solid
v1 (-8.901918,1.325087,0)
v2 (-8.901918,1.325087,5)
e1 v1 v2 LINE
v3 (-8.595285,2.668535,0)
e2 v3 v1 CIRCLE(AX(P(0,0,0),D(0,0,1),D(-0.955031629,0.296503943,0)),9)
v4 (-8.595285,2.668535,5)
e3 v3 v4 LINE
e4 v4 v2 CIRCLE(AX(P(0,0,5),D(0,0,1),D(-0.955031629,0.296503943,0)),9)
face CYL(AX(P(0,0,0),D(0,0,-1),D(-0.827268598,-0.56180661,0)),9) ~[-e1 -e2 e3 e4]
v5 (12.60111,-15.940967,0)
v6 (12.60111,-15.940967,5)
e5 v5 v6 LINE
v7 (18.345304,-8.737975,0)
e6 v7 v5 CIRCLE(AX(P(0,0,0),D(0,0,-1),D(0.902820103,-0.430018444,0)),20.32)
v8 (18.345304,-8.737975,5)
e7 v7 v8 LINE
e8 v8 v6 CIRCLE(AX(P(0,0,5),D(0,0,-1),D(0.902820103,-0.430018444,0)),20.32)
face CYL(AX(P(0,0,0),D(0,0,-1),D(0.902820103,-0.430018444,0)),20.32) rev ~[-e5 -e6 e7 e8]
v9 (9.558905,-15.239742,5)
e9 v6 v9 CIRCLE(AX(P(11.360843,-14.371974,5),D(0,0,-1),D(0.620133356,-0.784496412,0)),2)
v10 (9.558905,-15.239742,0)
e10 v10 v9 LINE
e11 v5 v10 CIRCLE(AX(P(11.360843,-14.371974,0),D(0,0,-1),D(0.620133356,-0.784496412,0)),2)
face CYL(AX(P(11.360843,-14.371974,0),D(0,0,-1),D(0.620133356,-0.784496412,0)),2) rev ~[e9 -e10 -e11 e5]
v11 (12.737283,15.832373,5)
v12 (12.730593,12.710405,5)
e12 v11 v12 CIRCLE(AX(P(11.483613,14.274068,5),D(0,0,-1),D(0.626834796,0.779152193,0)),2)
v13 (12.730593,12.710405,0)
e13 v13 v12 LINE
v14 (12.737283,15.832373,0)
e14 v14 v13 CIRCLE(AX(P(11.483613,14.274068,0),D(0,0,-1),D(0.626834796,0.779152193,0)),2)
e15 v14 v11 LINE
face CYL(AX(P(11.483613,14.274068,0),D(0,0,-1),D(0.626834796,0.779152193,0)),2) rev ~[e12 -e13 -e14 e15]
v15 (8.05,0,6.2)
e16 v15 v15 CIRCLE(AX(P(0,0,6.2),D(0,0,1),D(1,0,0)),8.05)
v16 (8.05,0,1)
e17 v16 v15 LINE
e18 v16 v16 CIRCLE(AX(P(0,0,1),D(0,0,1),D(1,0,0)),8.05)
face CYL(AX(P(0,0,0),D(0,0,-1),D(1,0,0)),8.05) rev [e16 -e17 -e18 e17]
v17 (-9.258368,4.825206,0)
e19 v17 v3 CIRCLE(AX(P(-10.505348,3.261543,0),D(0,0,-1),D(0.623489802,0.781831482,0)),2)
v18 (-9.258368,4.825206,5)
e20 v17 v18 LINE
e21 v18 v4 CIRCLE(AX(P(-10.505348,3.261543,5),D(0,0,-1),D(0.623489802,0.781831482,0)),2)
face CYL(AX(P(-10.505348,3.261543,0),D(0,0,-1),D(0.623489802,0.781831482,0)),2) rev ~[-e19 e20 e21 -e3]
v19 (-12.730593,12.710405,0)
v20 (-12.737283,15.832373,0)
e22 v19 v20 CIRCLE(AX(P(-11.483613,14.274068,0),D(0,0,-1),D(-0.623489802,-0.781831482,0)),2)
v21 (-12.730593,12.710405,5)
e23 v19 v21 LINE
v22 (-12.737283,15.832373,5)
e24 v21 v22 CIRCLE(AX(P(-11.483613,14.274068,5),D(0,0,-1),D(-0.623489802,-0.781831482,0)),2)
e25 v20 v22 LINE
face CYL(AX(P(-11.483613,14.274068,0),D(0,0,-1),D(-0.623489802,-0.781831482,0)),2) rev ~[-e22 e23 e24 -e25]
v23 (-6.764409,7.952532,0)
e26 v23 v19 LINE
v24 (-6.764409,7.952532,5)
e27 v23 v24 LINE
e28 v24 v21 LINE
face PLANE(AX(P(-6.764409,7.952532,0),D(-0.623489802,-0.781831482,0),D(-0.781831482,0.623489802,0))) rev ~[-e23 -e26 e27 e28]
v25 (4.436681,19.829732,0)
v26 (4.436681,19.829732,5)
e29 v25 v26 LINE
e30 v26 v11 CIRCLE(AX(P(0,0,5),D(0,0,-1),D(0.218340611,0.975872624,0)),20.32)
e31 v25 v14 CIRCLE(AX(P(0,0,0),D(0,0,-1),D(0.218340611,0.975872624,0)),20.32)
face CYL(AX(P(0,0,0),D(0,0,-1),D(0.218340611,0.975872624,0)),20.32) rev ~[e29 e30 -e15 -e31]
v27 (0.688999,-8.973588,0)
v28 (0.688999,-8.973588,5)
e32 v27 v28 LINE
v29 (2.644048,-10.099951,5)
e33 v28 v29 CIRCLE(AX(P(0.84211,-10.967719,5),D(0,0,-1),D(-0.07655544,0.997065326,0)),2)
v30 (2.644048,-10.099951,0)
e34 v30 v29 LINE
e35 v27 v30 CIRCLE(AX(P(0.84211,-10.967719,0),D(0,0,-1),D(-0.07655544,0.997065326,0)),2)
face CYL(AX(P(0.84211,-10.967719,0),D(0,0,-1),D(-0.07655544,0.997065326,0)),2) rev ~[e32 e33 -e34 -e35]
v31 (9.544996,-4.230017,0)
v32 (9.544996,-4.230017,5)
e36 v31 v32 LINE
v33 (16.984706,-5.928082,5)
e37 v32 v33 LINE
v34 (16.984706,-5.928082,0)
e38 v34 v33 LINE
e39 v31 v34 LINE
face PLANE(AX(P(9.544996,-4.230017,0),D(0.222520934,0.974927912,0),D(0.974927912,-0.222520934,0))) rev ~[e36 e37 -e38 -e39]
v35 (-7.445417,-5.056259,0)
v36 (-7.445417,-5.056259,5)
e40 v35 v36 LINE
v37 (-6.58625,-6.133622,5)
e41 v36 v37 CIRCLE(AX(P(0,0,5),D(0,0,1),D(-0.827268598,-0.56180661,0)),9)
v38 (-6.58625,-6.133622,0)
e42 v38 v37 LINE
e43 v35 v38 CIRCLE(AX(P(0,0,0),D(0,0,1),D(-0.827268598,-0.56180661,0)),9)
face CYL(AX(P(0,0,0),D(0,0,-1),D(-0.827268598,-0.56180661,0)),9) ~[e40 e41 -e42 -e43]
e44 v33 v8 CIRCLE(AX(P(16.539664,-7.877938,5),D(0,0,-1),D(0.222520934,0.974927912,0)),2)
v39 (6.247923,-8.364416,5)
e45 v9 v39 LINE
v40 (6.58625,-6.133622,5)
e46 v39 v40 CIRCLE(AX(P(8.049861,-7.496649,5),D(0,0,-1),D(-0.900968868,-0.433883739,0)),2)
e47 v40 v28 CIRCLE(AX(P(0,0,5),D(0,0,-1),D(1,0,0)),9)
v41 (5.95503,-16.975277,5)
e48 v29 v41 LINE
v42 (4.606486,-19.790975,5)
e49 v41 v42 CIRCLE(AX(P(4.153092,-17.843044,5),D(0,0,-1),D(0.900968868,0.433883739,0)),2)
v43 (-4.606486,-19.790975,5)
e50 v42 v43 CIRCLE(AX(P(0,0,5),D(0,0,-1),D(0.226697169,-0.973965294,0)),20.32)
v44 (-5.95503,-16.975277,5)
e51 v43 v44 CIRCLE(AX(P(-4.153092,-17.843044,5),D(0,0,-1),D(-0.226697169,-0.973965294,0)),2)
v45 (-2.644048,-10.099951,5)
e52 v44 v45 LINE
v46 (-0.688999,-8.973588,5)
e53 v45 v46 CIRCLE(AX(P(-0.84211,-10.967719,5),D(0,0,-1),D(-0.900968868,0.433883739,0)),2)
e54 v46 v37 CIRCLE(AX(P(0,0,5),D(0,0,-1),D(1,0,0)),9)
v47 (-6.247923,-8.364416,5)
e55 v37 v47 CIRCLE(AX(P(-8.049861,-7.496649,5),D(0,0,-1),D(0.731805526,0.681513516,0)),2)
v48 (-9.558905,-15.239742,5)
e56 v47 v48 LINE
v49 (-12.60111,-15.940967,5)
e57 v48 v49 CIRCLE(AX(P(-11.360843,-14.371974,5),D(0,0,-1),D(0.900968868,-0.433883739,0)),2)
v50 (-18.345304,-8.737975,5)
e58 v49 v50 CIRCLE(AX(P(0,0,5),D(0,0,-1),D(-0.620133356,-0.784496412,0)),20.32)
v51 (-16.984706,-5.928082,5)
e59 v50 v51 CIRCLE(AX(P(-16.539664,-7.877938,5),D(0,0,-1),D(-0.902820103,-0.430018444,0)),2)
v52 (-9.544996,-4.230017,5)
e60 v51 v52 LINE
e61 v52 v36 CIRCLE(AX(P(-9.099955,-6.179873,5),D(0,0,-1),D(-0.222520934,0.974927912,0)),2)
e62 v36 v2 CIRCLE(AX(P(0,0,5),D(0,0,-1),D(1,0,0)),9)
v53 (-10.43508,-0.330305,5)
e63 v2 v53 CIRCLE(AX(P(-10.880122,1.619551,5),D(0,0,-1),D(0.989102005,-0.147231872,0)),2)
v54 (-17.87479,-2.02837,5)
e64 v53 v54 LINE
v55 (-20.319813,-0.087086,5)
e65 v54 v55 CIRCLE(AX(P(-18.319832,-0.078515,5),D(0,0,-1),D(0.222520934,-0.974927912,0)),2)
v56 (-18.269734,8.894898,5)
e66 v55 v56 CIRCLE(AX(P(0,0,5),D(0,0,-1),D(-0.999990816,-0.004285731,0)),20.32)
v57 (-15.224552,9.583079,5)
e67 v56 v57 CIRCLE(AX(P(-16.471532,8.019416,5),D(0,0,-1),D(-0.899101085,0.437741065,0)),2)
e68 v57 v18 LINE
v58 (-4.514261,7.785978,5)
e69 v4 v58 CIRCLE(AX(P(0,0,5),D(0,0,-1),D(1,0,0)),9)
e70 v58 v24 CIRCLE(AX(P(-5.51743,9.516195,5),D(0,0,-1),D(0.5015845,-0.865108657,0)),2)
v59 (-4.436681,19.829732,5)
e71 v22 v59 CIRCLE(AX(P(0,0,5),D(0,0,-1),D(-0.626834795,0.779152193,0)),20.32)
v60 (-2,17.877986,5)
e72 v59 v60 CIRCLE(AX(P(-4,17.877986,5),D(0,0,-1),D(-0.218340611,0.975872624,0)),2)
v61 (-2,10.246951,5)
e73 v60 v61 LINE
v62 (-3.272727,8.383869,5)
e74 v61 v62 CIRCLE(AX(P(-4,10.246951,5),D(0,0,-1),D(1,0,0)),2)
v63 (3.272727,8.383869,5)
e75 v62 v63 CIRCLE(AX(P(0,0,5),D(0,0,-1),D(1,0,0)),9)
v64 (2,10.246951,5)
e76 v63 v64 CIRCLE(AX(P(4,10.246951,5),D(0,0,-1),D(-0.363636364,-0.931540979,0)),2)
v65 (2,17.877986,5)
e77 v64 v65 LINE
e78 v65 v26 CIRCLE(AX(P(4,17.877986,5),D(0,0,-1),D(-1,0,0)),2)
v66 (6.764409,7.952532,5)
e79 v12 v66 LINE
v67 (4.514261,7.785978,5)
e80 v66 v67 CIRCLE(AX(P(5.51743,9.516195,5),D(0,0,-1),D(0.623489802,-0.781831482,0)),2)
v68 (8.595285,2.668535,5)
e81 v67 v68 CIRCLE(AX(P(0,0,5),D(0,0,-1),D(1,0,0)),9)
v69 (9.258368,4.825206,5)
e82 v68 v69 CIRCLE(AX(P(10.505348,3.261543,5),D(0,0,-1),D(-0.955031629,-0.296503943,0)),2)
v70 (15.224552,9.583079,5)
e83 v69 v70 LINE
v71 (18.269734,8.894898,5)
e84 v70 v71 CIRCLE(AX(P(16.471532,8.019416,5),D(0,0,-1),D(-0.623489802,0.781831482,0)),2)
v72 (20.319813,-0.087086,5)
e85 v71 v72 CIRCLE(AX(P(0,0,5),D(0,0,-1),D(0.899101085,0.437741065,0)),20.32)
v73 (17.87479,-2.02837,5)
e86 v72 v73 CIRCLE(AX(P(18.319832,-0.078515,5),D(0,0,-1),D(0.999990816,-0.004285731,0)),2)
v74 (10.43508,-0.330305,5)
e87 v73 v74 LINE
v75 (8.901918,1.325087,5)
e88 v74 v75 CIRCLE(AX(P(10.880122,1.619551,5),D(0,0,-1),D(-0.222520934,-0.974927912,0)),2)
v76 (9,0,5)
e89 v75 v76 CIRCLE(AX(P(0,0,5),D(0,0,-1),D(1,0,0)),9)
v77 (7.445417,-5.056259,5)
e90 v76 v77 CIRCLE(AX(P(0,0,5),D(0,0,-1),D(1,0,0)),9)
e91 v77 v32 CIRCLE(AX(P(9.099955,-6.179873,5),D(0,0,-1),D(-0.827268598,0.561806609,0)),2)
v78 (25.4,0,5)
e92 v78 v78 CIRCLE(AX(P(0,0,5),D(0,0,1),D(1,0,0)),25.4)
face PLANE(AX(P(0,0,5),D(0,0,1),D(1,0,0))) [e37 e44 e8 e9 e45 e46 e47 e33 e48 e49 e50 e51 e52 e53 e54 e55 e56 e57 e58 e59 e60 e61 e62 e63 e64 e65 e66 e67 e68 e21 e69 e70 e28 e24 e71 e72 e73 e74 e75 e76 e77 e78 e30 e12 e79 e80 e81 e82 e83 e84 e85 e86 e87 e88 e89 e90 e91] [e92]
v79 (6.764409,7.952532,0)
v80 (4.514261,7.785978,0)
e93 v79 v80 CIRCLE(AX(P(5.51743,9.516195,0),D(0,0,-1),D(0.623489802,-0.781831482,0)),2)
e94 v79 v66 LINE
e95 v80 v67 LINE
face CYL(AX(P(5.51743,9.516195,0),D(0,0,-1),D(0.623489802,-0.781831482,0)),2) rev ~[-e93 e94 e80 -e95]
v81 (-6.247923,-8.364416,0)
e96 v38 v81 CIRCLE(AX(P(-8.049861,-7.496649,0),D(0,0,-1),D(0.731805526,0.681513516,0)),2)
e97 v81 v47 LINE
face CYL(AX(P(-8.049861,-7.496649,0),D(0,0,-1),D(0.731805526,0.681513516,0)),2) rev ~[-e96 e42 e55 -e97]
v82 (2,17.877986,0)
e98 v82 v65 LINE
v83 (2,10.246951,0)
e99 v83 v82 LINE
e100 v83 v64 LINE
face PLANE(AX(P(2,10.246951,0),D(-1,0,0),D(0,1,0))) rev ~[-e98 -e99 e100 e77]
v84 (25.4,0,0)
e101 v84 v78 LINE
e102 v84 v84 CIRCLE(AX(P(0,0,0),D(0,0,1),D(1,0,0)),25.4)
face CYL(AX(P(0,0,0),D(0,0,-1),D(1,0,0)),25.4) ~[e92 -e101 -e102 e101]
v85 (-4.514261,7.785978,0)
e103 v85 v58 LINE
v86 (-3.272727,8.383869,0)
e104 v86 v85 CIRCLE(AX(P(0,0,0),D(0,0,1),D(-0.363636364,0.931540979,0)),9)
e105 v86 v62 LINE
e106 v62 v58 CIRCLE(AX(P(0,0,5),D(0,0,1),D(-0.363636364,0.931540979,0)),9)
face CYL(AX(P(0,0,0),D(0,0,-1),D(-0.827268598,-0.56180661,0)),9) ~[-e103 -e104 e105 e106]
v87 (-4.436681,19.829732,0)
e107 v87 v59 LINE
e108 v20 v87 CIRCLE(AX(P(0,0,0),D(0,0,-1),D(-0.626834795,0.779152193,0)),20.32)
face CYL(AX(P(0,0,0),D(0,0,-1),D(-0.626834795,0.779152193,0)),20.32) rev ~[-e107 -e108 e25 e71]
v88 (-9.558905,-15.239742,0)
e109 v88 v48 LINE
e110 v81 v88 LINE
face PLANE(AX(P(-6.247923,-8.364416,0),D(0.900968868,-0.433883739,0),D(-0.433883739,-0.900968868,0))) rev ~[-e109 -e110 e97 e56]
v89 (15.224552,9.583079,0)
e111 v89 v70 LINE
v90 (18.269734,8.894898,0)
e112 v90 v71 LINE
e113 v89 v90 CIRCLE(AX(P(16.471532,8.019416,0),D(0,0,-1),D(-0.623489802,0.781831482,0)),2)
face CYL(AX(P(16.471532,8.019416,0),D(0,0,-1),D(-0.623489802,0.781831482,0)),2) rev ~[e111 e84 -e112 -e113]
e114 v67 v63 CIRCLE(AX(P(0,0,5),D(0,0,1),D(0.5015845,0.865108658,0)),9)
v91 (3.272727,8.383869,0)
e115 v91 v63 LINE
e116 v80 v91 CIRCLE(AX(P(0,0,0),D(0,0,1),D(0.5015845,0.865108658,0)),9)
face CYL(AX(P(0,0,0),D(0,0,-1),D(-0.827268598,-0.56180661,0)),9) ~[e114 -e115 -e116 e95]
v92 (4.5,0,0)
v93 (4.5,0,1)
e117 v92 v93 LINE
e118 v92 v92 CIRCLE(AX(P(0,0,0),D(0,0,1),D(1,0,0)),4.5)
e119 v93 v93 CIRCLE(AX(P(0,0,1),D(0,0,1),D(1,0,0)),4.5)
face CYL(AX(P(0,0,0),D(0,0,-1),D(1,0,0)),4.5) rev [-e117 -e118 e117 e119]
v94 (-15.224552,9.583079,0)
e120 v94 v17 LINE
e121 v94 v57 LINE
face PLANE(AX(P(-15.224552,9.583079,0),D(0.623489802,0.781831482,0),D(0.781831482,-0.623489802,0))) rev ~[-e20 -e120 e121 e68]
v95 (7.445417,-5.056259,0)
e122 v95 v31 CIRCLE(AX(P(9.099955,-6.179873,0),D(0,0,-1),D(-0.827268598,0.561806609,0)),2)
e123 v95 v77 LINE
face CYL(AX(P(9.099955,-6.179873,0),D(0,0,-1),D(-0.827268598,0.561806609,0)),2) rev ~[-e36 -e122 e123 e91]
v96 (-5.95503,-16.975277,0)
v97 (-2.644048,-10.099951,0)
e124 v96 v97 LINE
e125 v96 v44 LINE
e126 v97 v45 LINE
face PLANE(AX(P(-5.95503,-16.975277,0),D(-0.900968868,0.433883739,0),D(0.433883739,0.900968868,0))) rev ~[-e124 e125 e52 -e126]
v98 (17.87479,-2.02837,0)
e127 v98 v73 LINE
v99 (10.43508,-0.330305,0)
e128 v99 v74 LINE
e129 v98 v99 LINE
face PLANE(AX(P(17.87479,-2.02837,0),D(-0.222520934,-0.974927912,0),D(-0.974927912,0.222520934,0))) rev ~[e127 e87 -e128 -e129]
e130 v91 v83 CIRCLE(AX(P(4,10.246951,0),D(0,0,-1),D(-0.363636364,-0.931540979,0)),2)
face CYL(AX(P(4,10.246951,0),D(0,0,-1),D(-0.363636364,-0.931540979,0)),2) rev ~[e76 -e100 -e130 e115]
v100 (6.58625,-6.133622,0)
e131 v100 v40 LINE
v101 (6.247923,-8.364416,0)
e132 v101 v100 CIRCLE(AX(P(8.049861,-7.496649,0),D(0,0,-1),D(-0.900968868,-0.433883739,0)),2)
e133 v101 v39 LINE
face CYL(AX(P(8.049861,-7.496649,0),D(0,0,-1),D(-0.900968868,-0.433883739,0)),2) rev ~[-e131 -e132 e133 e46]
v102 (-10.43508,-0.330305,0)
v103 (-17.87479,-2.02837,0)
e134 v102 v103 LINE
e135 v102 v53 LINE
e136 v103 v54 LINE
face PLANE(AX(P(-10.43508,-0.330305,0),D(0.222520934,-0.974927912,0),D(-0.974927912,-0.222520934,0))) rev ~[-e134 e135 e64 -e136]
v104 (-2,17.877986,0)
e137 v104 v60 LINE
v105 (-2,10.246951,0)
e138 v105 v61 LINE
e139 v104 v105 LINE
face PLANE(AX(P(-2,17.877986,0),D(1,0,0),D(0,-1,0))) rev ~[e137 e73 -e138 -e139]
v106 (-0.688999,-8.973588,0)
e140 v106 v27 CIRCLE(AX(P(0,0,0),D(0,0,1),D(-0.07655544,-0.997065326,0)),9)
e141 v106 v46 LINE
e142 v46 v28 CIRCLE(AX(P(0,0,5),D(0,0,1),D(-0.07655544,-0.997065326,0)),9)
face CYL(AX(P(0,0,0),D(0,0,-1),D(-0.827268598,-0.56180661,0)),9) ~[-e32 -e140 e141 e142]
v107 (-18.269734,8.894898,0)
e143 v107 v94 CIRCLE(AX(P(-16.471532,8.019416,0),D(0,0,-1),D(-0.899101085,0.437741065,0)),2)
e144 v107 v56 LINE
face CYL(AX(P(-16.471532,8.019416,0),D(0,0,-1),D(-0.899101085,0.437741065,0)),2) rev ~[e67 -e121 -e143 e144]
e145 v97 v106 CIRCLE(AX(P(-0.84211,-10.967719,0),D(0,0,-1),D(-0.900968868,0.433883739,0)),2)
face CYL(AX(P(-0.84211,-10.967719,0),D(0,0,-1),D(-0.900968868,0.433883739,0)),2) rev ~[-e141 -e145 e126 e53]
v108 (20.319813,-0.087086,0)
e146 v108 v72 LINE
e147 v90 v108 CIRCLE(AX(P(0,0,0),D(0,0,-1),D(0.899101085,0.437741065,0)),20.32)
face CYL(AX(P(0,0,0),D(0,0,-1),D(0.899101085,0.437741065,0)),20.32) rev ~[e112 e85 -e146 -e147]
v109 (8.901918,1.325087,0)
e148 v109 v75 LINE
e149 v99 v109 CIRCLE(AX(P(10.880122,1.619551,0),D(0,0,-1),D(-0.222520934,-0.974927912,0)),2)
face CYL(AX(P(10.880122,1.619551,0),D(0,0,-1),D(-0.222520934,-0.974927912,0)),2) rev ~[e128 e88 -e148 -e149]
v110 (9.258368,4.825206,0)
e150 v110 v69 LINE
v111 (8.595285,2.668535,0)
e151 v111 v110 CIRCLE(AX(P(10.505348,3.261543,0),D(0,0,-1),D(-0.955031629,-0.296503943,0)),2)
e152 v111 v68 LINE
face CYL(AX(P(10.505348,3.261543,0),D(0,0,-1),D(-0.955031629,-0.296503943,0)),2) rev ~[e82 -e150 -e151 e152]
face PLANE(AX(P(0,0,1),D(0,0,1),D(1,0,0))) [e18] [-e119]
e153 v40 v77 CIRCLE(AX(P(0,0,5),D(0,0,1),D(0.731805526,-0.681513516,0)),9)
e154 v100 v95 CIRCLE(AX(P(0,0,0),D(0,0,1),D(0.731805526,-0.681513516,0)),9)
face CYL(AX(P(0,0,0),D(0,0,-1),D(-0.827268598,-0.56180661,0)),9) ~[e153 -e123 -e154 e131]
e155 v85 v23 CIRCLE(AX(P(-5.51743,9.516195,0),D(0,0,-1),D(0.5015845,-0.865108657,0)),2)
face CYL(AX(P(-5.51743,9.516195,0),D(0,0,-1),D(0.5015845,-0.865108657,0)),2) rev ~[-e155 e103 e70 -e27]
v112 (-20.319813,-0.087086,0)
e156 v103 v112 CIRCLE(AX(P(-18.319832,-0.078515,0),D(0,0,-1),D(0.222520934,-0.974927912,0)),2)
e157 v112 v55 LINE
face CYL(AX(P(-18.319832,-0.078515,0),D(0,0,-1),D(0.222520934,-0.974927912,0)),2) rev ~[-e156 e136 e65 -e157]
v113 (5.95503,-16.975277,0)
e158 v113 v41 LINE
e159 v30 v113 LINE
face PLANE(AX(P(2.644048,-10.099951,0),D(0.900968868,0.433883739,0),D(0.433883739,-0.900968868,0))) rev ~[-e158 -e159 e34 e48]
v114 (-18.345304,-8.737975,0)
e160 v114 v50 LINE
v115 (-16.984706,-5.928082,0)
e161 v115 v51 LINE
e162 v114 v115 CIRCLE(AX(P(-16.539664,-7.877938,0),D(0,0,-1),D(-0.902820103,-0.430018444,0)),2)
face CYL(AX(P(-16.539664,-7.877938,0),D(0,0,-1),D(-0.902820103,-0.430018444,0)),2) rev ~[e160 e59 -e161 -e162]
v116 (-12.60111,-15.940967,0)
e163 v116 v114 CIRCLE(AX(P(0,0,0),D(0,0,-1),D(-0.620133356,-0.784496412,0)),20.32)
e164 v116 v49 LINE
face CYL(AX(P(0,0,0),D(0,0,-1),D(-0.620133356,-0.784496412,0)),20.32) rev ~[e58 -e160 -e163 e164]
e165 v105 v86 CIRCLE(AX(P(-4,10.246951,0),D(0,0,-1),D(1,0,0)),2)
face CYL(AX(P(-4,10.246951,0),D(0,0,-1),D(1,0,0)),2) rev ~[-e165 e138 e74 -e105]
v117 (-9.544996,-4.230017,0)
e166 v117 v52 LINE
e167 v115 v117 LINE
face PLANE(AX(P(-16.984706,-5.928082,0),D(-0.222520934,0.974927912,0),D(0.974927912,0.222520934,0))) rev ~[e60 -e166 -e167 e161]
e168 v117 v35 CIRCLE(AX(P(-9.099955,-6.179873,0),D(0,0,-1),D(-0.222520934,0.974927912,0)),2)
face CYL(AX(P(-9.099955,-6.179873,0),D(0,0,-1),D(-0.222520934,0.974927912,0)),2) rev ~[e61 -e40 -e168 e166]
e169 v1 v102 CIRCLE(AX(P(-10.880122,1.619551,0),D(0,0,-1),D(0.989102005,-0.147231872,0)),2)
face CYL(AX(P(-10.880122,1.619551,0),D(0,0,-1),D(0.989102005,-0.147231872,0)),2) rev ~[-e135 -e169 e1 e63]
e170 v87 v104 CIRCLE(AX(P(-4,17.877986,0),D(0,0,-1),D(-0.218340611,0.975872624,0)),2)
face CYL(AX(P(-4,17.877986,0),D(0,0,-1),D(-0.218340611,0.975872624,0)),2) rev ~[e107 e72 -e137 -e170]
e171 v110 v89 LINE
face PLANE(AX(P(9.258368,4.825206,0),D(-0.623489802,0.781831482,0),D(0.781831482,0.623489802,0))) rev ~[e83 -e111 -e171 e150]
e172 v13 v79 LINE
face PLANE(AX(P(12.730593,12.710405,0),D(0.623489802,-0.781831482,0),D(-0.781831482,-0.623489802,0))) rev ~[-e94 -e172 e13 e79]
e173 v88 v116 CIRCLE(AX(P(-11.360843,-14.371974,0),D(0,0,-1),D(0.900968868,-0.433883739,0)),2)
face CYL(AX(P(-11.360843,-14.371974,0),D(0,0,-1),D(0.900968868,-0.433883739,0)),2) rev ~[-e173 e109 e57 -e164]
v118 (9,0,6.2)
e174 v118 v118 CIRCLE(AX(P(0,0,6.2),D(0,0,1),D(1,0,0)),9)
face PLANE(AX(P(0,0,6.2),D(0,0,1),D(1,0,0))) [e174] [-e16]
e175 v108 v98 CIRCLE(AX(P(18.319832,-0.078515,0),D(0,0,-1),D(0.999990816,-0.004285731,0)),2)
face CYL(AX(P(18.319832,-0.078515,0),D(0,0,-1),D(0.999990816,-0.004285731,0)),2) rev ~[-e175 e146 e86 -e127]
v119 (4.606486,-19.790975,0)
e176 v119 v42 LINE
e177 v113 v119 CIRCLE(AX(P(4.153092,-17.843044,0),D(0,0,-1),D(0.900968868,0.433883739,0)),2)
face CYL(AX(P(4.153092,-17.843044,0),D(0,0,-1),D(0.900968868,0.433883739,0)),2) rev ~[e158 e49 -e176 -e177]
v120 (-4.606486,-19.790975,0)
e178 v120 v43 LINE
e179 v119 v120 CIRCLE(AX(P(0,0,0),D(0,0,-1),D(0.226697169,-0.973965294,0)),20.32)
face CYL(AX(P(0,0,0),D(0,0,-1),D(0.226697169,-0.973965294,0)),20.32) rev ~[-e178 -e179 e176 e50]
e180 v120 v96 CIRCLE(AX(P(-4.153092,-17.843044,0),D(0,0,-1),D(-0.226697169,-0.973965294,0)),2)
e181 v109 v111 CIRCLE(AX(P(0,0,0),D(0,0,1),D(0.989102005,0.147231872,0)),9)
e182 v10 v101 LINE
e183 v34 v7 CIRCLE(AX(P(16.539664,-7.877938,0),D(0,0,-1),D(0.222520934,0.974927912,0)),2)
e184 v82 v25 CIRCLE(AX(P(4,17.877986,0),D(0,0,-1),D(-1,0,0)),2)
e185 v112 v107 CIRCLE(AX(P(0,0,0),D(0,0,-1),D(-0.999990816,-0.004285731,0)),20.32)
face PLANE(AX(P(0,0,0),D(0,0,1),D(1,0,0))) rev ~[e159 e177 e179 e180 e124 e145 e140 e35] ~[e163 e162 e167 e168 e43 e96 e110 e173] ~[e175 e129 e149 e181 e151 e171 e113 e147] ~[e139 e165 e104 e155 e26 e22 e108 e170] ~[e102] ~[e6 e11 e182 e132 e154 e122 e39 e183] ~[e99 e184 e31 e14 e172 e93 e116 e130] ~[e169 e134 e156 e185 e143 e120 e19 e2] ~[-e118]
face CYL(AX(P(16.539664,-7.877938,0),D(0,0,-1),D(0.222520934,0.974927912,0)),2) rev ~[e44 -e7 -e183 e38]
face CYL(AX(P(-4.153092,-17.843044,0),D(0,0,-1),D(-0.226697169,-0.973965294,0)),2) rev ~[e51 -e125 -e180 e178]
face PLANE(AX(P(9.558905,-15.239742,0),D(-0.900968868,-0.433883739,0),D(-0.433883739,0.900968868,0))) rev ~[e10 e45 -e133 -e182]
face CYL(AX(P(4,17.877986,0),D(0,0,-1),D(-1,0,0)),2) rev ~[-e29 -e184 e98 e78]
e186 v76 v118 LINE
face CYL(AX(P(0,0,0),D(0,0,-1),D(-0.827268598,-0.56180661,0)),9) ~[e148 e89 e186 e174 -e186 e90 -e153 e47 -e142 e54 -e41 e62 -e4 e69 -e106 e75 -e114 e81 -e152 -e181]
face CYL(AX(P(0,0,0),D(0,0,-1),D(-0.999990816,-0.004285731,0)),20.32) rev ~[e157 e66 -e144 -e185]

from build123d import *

# Parameters (mm, degrees)
F0_R     = 25.4
F0_R_2   = 8.1
F2_DEPTH = 5
F1_R     = 8.05
F1_R_2   = 4.5
F3_DEPTH = 1
F1_R_3   = 9
F4_DEPTH = 6.2


with BuildPart() as f2:
    # F0 (on Top) → F2 (new body)
    with BuildSketch(Plane.XY):
        Circle(F0_R)
        with BuildLine():
            ThreePointArc((-4.606486482, -19.7909747686), (-5.9568852552, -18.7069483477), (-5.955029879, -16.9752767029))
            Line((-5.955029879, -16.9752767029), (-2.6440475771, -10.0999511093))
            ThreePointArc((-2.6440475771, -10.0999511093), (-1.8405240839, -9.2347532099), (-0.688998961, -8.9735879353))
            ThreePointArc((-0.688998961, -8.9735879353), (0, -9), (0.688998961, -8.9735879353))
            ThreePointArc((0.688998961, -8.9735879353), (1.8405240839, -9.2347532099), (2.6440475771, -10.0999511093))
            Line((2.6440475771, -10.0999511093), (5.955029879, -16.9752767029))
            ThreePointArc((5.955029879, -16.9752767029), (5.9568852552, -18.7069483477), (4.606486482, -19.7909747686))
            ThreePointArc((4.606486482, -19.7909747686), (0, -20.32), (-4.606486482, -19.7909747686))
        make_face(mode=Mode.SUBTRACT)
        with BuildLine():
            ThreePointArc((-18.3453044867, -8.7379747819), (-18.3397383666, -7.0063110887), (-16.9847061493, -5.9280820695))
            Line((-16.9847061493, -5.9280820695), (-9.5449964486, -4.230016879))
            ThreePointArc((-9.5449964486, -4.230016879), (-8.3675687887, -4.318794776), (-7.4454173842, -5.0562594846))
            ThreePointArc((-7.4454173842, -5.0562594846), (-7.0364833422, -5.6114082167), (-6.5862497328, -6.1336216428))
            ThreePointArc((-6.5862497328, -6.1336216428), (-6.0724727959, -7.1967541221), (-6.2479230487, -8.3644161528))
            Line((-6.2479230487, -8.3644161528), (-9.5589053506, -15.2397417464))
            ThreePointArc((-9.5589053506, -15.2397417464), (-10.9116239517, -16.3208719487), (-12.6011097989, -15.9409670922))
            ThreePointArc((-12.6011097989, -15.9409670922), (-15.8868157238, -12.6693127738), (-18.3453044867, -8.7379747819))
        make_face(mode=Mode.SUBTRACT)
        Circle(F0_R_2, mode=Mode.SUBTRACT)
        with BuildLine():
            ThreePointArc((12.6011097989, -15.9409670922), (10.9116239517, -16.3208719487), (9.5589053506, -15.2397417464))
            Line((9.5589053506, -15.2397417464), (6.2479230487, -8.3644161528))
            ThreePointArc((6.2479230487, -8.3644161528), (6.0724727959, -7.1967541221), (6.5862497328, -6.1336216428))
            ThreePointArc((6.5862497328, -6.1336216428), (7.0364833422, -5.6114082167), (7.4454173842, -5.0562594846))
            ThreePointArc((7.4454173842, -5.0562594846), (8.3675687887, -4.318794776), (9.5449964486, -4.230016879))
            Line((9.5449964486, -4.230016879), (16.9847061493, -5.9280820695))
            ThreePointArc((16.9847061493, -5.9280820695), (18.3397383666, -7.0063110887), (18.3453044867, -8.7379747819))
            ThreePointArc((18.3453044867, -8.7379747819), (15.8868157238, -12.6693127738), (12.6011097989, -15.9409670922))
        make_face(mode=Mode.SUBTRACT)
        with BuildLine():
            ThreePointArc((-18.269734037, 8.8948984378), (-16.9123944255, 9.9702213228), (-15.2245522643, 9.583079273))
            Line((-15.2245522643, 9.583079273), (-9.2583683118, 4.8252063378))
            ThreePointArc((-9.2583683118, 4.8252063378), (-8.5936635283, 3.8493042116), (-8.5952846582, 2.6685354869))
            ThreePointArc((-8.5952846582, 2.6685354869), (-8.7743512096, 2.0026884056), (-8.9019180428, 1.3250868497))
            ThreePointArc((-8.9019180428, 1.3250868497), (-9.4127738045, 0.2605476067), (-10.4350801844, -0.3303052303))
            Line((-10.4350801844, -0.3303052303), (-17.8747898851, -2.0283704208))
            ThreePointArc((-17.8747898851, -2.0283704208), (-19.5634577664, -1.6448460872), (-20.3198133854, -0.087086059))
            ThreePointArc((-20.3198133854, -0.087086059), (-19.8105351755, 4.521625378), (-18.269734037, 8.8948984378))
        make_face(mode=Mode.SUBTRACT)
        with BuildLine():
            ThreePointArc((-2, 10.246950766), (-2.3485543523, 9.1187986163), (-3.2727272727, 8.3838688085))
            ThreePointArc((-3.2727272727, 8.3838688085), (-3.9049536521, 8.1087198111), (-4.5142605006, 7.7859779176))
            ThreePointArc((-4.5142605006, 7.7859779176), (-5.6650641528, 7.5216516734), (-6.7644091044, 7.9525322677))
            Line((-6.7644091044, 7.9525322677), (-12.7305930568, 12.7104052029))
            ThreePointArc((-12.7305930568, 12.7104052029), (-13.4836088612, 14.2697824267), (-12.7372830441, 15.832372553))
            ThreePointArc((-12.7372830441, 15.832372553), (-8.8165175789, 18.3076873958), (-4.4366812227, 19.8297317109))
            ThreePointArc((-4.4366812227, 19.8297317109), (-2.749672532, 19.4389737228), (-2, 17.8779864638))
            Line((-2, 17.8779864638), (-2, 10.246950766))
        make_face(mode=Mode.SUBTRACT)
        with BuildLine():
            ThreePointArc((20.3198133854, -0.087086059), (19.5634577664, -1.6448460872), (17.8747898851, -2.0283704208))
            Line((17.8747898851, -2.0283704208), (10.4350801844, -0.3303052303))
            ThreePointArc((10.4350801844, -0.3303052303), (9.4127738045, 0.2605476067), (8.9019180428, 1.3250868497))
            ThreePointArc((8.9019180428, 1.3250868497), (8.7743512096, 2.0026884056), (8.5952846582, 2.6685354869))
            ThreePointArc((8.5952846582, 2.6685354869), (8.5936635283, 3.8493042116), (9.2583683118, 4.8252063378))
            Line((9.2583683118, 4.8252063378), (15.2245522643, 9.583079273))
            ThreePointArc((15.2245522643, 9.583079273), (16.9123944255, 9.9702213228), (18.269734037, 8.8948984378))
            ThreePointArc((18.269734037, 8.8948984378), (19.8105351755, 4.521625378), (20.3198133854, -0.087086059))
        make_face(mode=Mode.SUBTRACT)
        with BuildLine():
            Line((2, 10.246950766), (2, 17.8779864638))
            ThreePointArc((2, 17.8779864638), (2.749672532, 19.4389737228), (4.4366812227, 19.8297317109))
            ThreePointArc((4.4366812227, 19.8297317109), (8.8165175789, 18.3076873958), (12.7372830441, 15.832372553))
            ThreePointArc((12.7372830441, 15.832372553), (13.4836088612, 14.2697824267), (12.7305930568, 12.7104052029))
            Line((12.7305930568, 12.7104052029), (6.7644091044, 7.9525322677))
            ThreePointArc((6.7644091044, 7.9525322677), (5.6650641528, 7.5216516734), (4.5142605006, 7.7859779176))
            ThreePointArc((4.5142605006, 7.7859779176), (3.9049536521, 8.1087198111), (3.2727272727, 8.3838688085))
            ThreePointArc((3.2727272727, 8.3838688085), (2.3485543523, 9.1187986163), (2, 10.246950766))
        make_face(mode=Mode.SUBTRACT)
    extrude(amount=F2_DEPTH)



with BuildPart() as f3:
    # F1 (on face) → F3 (new body)
    with BuildSketch(Plane.XY):
        Circle(F1_R)
        Circle(F1_R_2, mode=Mode.SUBTRACT)
    extrude(amount=F3_DEPTH)


with BuildPart() as f2_1:
    add(f2.part)

    add(f3.part)  # F4 merges F3
    # F1 (on face) → F4 (join)
    with BuildSketch(Plane.XY):
        Circle(F1_R_3)
        Circle(F1_R, mode=Mode.SUBTRACT)
    extrude(amount=F4_DEPTH)


solid = f2_1.part
